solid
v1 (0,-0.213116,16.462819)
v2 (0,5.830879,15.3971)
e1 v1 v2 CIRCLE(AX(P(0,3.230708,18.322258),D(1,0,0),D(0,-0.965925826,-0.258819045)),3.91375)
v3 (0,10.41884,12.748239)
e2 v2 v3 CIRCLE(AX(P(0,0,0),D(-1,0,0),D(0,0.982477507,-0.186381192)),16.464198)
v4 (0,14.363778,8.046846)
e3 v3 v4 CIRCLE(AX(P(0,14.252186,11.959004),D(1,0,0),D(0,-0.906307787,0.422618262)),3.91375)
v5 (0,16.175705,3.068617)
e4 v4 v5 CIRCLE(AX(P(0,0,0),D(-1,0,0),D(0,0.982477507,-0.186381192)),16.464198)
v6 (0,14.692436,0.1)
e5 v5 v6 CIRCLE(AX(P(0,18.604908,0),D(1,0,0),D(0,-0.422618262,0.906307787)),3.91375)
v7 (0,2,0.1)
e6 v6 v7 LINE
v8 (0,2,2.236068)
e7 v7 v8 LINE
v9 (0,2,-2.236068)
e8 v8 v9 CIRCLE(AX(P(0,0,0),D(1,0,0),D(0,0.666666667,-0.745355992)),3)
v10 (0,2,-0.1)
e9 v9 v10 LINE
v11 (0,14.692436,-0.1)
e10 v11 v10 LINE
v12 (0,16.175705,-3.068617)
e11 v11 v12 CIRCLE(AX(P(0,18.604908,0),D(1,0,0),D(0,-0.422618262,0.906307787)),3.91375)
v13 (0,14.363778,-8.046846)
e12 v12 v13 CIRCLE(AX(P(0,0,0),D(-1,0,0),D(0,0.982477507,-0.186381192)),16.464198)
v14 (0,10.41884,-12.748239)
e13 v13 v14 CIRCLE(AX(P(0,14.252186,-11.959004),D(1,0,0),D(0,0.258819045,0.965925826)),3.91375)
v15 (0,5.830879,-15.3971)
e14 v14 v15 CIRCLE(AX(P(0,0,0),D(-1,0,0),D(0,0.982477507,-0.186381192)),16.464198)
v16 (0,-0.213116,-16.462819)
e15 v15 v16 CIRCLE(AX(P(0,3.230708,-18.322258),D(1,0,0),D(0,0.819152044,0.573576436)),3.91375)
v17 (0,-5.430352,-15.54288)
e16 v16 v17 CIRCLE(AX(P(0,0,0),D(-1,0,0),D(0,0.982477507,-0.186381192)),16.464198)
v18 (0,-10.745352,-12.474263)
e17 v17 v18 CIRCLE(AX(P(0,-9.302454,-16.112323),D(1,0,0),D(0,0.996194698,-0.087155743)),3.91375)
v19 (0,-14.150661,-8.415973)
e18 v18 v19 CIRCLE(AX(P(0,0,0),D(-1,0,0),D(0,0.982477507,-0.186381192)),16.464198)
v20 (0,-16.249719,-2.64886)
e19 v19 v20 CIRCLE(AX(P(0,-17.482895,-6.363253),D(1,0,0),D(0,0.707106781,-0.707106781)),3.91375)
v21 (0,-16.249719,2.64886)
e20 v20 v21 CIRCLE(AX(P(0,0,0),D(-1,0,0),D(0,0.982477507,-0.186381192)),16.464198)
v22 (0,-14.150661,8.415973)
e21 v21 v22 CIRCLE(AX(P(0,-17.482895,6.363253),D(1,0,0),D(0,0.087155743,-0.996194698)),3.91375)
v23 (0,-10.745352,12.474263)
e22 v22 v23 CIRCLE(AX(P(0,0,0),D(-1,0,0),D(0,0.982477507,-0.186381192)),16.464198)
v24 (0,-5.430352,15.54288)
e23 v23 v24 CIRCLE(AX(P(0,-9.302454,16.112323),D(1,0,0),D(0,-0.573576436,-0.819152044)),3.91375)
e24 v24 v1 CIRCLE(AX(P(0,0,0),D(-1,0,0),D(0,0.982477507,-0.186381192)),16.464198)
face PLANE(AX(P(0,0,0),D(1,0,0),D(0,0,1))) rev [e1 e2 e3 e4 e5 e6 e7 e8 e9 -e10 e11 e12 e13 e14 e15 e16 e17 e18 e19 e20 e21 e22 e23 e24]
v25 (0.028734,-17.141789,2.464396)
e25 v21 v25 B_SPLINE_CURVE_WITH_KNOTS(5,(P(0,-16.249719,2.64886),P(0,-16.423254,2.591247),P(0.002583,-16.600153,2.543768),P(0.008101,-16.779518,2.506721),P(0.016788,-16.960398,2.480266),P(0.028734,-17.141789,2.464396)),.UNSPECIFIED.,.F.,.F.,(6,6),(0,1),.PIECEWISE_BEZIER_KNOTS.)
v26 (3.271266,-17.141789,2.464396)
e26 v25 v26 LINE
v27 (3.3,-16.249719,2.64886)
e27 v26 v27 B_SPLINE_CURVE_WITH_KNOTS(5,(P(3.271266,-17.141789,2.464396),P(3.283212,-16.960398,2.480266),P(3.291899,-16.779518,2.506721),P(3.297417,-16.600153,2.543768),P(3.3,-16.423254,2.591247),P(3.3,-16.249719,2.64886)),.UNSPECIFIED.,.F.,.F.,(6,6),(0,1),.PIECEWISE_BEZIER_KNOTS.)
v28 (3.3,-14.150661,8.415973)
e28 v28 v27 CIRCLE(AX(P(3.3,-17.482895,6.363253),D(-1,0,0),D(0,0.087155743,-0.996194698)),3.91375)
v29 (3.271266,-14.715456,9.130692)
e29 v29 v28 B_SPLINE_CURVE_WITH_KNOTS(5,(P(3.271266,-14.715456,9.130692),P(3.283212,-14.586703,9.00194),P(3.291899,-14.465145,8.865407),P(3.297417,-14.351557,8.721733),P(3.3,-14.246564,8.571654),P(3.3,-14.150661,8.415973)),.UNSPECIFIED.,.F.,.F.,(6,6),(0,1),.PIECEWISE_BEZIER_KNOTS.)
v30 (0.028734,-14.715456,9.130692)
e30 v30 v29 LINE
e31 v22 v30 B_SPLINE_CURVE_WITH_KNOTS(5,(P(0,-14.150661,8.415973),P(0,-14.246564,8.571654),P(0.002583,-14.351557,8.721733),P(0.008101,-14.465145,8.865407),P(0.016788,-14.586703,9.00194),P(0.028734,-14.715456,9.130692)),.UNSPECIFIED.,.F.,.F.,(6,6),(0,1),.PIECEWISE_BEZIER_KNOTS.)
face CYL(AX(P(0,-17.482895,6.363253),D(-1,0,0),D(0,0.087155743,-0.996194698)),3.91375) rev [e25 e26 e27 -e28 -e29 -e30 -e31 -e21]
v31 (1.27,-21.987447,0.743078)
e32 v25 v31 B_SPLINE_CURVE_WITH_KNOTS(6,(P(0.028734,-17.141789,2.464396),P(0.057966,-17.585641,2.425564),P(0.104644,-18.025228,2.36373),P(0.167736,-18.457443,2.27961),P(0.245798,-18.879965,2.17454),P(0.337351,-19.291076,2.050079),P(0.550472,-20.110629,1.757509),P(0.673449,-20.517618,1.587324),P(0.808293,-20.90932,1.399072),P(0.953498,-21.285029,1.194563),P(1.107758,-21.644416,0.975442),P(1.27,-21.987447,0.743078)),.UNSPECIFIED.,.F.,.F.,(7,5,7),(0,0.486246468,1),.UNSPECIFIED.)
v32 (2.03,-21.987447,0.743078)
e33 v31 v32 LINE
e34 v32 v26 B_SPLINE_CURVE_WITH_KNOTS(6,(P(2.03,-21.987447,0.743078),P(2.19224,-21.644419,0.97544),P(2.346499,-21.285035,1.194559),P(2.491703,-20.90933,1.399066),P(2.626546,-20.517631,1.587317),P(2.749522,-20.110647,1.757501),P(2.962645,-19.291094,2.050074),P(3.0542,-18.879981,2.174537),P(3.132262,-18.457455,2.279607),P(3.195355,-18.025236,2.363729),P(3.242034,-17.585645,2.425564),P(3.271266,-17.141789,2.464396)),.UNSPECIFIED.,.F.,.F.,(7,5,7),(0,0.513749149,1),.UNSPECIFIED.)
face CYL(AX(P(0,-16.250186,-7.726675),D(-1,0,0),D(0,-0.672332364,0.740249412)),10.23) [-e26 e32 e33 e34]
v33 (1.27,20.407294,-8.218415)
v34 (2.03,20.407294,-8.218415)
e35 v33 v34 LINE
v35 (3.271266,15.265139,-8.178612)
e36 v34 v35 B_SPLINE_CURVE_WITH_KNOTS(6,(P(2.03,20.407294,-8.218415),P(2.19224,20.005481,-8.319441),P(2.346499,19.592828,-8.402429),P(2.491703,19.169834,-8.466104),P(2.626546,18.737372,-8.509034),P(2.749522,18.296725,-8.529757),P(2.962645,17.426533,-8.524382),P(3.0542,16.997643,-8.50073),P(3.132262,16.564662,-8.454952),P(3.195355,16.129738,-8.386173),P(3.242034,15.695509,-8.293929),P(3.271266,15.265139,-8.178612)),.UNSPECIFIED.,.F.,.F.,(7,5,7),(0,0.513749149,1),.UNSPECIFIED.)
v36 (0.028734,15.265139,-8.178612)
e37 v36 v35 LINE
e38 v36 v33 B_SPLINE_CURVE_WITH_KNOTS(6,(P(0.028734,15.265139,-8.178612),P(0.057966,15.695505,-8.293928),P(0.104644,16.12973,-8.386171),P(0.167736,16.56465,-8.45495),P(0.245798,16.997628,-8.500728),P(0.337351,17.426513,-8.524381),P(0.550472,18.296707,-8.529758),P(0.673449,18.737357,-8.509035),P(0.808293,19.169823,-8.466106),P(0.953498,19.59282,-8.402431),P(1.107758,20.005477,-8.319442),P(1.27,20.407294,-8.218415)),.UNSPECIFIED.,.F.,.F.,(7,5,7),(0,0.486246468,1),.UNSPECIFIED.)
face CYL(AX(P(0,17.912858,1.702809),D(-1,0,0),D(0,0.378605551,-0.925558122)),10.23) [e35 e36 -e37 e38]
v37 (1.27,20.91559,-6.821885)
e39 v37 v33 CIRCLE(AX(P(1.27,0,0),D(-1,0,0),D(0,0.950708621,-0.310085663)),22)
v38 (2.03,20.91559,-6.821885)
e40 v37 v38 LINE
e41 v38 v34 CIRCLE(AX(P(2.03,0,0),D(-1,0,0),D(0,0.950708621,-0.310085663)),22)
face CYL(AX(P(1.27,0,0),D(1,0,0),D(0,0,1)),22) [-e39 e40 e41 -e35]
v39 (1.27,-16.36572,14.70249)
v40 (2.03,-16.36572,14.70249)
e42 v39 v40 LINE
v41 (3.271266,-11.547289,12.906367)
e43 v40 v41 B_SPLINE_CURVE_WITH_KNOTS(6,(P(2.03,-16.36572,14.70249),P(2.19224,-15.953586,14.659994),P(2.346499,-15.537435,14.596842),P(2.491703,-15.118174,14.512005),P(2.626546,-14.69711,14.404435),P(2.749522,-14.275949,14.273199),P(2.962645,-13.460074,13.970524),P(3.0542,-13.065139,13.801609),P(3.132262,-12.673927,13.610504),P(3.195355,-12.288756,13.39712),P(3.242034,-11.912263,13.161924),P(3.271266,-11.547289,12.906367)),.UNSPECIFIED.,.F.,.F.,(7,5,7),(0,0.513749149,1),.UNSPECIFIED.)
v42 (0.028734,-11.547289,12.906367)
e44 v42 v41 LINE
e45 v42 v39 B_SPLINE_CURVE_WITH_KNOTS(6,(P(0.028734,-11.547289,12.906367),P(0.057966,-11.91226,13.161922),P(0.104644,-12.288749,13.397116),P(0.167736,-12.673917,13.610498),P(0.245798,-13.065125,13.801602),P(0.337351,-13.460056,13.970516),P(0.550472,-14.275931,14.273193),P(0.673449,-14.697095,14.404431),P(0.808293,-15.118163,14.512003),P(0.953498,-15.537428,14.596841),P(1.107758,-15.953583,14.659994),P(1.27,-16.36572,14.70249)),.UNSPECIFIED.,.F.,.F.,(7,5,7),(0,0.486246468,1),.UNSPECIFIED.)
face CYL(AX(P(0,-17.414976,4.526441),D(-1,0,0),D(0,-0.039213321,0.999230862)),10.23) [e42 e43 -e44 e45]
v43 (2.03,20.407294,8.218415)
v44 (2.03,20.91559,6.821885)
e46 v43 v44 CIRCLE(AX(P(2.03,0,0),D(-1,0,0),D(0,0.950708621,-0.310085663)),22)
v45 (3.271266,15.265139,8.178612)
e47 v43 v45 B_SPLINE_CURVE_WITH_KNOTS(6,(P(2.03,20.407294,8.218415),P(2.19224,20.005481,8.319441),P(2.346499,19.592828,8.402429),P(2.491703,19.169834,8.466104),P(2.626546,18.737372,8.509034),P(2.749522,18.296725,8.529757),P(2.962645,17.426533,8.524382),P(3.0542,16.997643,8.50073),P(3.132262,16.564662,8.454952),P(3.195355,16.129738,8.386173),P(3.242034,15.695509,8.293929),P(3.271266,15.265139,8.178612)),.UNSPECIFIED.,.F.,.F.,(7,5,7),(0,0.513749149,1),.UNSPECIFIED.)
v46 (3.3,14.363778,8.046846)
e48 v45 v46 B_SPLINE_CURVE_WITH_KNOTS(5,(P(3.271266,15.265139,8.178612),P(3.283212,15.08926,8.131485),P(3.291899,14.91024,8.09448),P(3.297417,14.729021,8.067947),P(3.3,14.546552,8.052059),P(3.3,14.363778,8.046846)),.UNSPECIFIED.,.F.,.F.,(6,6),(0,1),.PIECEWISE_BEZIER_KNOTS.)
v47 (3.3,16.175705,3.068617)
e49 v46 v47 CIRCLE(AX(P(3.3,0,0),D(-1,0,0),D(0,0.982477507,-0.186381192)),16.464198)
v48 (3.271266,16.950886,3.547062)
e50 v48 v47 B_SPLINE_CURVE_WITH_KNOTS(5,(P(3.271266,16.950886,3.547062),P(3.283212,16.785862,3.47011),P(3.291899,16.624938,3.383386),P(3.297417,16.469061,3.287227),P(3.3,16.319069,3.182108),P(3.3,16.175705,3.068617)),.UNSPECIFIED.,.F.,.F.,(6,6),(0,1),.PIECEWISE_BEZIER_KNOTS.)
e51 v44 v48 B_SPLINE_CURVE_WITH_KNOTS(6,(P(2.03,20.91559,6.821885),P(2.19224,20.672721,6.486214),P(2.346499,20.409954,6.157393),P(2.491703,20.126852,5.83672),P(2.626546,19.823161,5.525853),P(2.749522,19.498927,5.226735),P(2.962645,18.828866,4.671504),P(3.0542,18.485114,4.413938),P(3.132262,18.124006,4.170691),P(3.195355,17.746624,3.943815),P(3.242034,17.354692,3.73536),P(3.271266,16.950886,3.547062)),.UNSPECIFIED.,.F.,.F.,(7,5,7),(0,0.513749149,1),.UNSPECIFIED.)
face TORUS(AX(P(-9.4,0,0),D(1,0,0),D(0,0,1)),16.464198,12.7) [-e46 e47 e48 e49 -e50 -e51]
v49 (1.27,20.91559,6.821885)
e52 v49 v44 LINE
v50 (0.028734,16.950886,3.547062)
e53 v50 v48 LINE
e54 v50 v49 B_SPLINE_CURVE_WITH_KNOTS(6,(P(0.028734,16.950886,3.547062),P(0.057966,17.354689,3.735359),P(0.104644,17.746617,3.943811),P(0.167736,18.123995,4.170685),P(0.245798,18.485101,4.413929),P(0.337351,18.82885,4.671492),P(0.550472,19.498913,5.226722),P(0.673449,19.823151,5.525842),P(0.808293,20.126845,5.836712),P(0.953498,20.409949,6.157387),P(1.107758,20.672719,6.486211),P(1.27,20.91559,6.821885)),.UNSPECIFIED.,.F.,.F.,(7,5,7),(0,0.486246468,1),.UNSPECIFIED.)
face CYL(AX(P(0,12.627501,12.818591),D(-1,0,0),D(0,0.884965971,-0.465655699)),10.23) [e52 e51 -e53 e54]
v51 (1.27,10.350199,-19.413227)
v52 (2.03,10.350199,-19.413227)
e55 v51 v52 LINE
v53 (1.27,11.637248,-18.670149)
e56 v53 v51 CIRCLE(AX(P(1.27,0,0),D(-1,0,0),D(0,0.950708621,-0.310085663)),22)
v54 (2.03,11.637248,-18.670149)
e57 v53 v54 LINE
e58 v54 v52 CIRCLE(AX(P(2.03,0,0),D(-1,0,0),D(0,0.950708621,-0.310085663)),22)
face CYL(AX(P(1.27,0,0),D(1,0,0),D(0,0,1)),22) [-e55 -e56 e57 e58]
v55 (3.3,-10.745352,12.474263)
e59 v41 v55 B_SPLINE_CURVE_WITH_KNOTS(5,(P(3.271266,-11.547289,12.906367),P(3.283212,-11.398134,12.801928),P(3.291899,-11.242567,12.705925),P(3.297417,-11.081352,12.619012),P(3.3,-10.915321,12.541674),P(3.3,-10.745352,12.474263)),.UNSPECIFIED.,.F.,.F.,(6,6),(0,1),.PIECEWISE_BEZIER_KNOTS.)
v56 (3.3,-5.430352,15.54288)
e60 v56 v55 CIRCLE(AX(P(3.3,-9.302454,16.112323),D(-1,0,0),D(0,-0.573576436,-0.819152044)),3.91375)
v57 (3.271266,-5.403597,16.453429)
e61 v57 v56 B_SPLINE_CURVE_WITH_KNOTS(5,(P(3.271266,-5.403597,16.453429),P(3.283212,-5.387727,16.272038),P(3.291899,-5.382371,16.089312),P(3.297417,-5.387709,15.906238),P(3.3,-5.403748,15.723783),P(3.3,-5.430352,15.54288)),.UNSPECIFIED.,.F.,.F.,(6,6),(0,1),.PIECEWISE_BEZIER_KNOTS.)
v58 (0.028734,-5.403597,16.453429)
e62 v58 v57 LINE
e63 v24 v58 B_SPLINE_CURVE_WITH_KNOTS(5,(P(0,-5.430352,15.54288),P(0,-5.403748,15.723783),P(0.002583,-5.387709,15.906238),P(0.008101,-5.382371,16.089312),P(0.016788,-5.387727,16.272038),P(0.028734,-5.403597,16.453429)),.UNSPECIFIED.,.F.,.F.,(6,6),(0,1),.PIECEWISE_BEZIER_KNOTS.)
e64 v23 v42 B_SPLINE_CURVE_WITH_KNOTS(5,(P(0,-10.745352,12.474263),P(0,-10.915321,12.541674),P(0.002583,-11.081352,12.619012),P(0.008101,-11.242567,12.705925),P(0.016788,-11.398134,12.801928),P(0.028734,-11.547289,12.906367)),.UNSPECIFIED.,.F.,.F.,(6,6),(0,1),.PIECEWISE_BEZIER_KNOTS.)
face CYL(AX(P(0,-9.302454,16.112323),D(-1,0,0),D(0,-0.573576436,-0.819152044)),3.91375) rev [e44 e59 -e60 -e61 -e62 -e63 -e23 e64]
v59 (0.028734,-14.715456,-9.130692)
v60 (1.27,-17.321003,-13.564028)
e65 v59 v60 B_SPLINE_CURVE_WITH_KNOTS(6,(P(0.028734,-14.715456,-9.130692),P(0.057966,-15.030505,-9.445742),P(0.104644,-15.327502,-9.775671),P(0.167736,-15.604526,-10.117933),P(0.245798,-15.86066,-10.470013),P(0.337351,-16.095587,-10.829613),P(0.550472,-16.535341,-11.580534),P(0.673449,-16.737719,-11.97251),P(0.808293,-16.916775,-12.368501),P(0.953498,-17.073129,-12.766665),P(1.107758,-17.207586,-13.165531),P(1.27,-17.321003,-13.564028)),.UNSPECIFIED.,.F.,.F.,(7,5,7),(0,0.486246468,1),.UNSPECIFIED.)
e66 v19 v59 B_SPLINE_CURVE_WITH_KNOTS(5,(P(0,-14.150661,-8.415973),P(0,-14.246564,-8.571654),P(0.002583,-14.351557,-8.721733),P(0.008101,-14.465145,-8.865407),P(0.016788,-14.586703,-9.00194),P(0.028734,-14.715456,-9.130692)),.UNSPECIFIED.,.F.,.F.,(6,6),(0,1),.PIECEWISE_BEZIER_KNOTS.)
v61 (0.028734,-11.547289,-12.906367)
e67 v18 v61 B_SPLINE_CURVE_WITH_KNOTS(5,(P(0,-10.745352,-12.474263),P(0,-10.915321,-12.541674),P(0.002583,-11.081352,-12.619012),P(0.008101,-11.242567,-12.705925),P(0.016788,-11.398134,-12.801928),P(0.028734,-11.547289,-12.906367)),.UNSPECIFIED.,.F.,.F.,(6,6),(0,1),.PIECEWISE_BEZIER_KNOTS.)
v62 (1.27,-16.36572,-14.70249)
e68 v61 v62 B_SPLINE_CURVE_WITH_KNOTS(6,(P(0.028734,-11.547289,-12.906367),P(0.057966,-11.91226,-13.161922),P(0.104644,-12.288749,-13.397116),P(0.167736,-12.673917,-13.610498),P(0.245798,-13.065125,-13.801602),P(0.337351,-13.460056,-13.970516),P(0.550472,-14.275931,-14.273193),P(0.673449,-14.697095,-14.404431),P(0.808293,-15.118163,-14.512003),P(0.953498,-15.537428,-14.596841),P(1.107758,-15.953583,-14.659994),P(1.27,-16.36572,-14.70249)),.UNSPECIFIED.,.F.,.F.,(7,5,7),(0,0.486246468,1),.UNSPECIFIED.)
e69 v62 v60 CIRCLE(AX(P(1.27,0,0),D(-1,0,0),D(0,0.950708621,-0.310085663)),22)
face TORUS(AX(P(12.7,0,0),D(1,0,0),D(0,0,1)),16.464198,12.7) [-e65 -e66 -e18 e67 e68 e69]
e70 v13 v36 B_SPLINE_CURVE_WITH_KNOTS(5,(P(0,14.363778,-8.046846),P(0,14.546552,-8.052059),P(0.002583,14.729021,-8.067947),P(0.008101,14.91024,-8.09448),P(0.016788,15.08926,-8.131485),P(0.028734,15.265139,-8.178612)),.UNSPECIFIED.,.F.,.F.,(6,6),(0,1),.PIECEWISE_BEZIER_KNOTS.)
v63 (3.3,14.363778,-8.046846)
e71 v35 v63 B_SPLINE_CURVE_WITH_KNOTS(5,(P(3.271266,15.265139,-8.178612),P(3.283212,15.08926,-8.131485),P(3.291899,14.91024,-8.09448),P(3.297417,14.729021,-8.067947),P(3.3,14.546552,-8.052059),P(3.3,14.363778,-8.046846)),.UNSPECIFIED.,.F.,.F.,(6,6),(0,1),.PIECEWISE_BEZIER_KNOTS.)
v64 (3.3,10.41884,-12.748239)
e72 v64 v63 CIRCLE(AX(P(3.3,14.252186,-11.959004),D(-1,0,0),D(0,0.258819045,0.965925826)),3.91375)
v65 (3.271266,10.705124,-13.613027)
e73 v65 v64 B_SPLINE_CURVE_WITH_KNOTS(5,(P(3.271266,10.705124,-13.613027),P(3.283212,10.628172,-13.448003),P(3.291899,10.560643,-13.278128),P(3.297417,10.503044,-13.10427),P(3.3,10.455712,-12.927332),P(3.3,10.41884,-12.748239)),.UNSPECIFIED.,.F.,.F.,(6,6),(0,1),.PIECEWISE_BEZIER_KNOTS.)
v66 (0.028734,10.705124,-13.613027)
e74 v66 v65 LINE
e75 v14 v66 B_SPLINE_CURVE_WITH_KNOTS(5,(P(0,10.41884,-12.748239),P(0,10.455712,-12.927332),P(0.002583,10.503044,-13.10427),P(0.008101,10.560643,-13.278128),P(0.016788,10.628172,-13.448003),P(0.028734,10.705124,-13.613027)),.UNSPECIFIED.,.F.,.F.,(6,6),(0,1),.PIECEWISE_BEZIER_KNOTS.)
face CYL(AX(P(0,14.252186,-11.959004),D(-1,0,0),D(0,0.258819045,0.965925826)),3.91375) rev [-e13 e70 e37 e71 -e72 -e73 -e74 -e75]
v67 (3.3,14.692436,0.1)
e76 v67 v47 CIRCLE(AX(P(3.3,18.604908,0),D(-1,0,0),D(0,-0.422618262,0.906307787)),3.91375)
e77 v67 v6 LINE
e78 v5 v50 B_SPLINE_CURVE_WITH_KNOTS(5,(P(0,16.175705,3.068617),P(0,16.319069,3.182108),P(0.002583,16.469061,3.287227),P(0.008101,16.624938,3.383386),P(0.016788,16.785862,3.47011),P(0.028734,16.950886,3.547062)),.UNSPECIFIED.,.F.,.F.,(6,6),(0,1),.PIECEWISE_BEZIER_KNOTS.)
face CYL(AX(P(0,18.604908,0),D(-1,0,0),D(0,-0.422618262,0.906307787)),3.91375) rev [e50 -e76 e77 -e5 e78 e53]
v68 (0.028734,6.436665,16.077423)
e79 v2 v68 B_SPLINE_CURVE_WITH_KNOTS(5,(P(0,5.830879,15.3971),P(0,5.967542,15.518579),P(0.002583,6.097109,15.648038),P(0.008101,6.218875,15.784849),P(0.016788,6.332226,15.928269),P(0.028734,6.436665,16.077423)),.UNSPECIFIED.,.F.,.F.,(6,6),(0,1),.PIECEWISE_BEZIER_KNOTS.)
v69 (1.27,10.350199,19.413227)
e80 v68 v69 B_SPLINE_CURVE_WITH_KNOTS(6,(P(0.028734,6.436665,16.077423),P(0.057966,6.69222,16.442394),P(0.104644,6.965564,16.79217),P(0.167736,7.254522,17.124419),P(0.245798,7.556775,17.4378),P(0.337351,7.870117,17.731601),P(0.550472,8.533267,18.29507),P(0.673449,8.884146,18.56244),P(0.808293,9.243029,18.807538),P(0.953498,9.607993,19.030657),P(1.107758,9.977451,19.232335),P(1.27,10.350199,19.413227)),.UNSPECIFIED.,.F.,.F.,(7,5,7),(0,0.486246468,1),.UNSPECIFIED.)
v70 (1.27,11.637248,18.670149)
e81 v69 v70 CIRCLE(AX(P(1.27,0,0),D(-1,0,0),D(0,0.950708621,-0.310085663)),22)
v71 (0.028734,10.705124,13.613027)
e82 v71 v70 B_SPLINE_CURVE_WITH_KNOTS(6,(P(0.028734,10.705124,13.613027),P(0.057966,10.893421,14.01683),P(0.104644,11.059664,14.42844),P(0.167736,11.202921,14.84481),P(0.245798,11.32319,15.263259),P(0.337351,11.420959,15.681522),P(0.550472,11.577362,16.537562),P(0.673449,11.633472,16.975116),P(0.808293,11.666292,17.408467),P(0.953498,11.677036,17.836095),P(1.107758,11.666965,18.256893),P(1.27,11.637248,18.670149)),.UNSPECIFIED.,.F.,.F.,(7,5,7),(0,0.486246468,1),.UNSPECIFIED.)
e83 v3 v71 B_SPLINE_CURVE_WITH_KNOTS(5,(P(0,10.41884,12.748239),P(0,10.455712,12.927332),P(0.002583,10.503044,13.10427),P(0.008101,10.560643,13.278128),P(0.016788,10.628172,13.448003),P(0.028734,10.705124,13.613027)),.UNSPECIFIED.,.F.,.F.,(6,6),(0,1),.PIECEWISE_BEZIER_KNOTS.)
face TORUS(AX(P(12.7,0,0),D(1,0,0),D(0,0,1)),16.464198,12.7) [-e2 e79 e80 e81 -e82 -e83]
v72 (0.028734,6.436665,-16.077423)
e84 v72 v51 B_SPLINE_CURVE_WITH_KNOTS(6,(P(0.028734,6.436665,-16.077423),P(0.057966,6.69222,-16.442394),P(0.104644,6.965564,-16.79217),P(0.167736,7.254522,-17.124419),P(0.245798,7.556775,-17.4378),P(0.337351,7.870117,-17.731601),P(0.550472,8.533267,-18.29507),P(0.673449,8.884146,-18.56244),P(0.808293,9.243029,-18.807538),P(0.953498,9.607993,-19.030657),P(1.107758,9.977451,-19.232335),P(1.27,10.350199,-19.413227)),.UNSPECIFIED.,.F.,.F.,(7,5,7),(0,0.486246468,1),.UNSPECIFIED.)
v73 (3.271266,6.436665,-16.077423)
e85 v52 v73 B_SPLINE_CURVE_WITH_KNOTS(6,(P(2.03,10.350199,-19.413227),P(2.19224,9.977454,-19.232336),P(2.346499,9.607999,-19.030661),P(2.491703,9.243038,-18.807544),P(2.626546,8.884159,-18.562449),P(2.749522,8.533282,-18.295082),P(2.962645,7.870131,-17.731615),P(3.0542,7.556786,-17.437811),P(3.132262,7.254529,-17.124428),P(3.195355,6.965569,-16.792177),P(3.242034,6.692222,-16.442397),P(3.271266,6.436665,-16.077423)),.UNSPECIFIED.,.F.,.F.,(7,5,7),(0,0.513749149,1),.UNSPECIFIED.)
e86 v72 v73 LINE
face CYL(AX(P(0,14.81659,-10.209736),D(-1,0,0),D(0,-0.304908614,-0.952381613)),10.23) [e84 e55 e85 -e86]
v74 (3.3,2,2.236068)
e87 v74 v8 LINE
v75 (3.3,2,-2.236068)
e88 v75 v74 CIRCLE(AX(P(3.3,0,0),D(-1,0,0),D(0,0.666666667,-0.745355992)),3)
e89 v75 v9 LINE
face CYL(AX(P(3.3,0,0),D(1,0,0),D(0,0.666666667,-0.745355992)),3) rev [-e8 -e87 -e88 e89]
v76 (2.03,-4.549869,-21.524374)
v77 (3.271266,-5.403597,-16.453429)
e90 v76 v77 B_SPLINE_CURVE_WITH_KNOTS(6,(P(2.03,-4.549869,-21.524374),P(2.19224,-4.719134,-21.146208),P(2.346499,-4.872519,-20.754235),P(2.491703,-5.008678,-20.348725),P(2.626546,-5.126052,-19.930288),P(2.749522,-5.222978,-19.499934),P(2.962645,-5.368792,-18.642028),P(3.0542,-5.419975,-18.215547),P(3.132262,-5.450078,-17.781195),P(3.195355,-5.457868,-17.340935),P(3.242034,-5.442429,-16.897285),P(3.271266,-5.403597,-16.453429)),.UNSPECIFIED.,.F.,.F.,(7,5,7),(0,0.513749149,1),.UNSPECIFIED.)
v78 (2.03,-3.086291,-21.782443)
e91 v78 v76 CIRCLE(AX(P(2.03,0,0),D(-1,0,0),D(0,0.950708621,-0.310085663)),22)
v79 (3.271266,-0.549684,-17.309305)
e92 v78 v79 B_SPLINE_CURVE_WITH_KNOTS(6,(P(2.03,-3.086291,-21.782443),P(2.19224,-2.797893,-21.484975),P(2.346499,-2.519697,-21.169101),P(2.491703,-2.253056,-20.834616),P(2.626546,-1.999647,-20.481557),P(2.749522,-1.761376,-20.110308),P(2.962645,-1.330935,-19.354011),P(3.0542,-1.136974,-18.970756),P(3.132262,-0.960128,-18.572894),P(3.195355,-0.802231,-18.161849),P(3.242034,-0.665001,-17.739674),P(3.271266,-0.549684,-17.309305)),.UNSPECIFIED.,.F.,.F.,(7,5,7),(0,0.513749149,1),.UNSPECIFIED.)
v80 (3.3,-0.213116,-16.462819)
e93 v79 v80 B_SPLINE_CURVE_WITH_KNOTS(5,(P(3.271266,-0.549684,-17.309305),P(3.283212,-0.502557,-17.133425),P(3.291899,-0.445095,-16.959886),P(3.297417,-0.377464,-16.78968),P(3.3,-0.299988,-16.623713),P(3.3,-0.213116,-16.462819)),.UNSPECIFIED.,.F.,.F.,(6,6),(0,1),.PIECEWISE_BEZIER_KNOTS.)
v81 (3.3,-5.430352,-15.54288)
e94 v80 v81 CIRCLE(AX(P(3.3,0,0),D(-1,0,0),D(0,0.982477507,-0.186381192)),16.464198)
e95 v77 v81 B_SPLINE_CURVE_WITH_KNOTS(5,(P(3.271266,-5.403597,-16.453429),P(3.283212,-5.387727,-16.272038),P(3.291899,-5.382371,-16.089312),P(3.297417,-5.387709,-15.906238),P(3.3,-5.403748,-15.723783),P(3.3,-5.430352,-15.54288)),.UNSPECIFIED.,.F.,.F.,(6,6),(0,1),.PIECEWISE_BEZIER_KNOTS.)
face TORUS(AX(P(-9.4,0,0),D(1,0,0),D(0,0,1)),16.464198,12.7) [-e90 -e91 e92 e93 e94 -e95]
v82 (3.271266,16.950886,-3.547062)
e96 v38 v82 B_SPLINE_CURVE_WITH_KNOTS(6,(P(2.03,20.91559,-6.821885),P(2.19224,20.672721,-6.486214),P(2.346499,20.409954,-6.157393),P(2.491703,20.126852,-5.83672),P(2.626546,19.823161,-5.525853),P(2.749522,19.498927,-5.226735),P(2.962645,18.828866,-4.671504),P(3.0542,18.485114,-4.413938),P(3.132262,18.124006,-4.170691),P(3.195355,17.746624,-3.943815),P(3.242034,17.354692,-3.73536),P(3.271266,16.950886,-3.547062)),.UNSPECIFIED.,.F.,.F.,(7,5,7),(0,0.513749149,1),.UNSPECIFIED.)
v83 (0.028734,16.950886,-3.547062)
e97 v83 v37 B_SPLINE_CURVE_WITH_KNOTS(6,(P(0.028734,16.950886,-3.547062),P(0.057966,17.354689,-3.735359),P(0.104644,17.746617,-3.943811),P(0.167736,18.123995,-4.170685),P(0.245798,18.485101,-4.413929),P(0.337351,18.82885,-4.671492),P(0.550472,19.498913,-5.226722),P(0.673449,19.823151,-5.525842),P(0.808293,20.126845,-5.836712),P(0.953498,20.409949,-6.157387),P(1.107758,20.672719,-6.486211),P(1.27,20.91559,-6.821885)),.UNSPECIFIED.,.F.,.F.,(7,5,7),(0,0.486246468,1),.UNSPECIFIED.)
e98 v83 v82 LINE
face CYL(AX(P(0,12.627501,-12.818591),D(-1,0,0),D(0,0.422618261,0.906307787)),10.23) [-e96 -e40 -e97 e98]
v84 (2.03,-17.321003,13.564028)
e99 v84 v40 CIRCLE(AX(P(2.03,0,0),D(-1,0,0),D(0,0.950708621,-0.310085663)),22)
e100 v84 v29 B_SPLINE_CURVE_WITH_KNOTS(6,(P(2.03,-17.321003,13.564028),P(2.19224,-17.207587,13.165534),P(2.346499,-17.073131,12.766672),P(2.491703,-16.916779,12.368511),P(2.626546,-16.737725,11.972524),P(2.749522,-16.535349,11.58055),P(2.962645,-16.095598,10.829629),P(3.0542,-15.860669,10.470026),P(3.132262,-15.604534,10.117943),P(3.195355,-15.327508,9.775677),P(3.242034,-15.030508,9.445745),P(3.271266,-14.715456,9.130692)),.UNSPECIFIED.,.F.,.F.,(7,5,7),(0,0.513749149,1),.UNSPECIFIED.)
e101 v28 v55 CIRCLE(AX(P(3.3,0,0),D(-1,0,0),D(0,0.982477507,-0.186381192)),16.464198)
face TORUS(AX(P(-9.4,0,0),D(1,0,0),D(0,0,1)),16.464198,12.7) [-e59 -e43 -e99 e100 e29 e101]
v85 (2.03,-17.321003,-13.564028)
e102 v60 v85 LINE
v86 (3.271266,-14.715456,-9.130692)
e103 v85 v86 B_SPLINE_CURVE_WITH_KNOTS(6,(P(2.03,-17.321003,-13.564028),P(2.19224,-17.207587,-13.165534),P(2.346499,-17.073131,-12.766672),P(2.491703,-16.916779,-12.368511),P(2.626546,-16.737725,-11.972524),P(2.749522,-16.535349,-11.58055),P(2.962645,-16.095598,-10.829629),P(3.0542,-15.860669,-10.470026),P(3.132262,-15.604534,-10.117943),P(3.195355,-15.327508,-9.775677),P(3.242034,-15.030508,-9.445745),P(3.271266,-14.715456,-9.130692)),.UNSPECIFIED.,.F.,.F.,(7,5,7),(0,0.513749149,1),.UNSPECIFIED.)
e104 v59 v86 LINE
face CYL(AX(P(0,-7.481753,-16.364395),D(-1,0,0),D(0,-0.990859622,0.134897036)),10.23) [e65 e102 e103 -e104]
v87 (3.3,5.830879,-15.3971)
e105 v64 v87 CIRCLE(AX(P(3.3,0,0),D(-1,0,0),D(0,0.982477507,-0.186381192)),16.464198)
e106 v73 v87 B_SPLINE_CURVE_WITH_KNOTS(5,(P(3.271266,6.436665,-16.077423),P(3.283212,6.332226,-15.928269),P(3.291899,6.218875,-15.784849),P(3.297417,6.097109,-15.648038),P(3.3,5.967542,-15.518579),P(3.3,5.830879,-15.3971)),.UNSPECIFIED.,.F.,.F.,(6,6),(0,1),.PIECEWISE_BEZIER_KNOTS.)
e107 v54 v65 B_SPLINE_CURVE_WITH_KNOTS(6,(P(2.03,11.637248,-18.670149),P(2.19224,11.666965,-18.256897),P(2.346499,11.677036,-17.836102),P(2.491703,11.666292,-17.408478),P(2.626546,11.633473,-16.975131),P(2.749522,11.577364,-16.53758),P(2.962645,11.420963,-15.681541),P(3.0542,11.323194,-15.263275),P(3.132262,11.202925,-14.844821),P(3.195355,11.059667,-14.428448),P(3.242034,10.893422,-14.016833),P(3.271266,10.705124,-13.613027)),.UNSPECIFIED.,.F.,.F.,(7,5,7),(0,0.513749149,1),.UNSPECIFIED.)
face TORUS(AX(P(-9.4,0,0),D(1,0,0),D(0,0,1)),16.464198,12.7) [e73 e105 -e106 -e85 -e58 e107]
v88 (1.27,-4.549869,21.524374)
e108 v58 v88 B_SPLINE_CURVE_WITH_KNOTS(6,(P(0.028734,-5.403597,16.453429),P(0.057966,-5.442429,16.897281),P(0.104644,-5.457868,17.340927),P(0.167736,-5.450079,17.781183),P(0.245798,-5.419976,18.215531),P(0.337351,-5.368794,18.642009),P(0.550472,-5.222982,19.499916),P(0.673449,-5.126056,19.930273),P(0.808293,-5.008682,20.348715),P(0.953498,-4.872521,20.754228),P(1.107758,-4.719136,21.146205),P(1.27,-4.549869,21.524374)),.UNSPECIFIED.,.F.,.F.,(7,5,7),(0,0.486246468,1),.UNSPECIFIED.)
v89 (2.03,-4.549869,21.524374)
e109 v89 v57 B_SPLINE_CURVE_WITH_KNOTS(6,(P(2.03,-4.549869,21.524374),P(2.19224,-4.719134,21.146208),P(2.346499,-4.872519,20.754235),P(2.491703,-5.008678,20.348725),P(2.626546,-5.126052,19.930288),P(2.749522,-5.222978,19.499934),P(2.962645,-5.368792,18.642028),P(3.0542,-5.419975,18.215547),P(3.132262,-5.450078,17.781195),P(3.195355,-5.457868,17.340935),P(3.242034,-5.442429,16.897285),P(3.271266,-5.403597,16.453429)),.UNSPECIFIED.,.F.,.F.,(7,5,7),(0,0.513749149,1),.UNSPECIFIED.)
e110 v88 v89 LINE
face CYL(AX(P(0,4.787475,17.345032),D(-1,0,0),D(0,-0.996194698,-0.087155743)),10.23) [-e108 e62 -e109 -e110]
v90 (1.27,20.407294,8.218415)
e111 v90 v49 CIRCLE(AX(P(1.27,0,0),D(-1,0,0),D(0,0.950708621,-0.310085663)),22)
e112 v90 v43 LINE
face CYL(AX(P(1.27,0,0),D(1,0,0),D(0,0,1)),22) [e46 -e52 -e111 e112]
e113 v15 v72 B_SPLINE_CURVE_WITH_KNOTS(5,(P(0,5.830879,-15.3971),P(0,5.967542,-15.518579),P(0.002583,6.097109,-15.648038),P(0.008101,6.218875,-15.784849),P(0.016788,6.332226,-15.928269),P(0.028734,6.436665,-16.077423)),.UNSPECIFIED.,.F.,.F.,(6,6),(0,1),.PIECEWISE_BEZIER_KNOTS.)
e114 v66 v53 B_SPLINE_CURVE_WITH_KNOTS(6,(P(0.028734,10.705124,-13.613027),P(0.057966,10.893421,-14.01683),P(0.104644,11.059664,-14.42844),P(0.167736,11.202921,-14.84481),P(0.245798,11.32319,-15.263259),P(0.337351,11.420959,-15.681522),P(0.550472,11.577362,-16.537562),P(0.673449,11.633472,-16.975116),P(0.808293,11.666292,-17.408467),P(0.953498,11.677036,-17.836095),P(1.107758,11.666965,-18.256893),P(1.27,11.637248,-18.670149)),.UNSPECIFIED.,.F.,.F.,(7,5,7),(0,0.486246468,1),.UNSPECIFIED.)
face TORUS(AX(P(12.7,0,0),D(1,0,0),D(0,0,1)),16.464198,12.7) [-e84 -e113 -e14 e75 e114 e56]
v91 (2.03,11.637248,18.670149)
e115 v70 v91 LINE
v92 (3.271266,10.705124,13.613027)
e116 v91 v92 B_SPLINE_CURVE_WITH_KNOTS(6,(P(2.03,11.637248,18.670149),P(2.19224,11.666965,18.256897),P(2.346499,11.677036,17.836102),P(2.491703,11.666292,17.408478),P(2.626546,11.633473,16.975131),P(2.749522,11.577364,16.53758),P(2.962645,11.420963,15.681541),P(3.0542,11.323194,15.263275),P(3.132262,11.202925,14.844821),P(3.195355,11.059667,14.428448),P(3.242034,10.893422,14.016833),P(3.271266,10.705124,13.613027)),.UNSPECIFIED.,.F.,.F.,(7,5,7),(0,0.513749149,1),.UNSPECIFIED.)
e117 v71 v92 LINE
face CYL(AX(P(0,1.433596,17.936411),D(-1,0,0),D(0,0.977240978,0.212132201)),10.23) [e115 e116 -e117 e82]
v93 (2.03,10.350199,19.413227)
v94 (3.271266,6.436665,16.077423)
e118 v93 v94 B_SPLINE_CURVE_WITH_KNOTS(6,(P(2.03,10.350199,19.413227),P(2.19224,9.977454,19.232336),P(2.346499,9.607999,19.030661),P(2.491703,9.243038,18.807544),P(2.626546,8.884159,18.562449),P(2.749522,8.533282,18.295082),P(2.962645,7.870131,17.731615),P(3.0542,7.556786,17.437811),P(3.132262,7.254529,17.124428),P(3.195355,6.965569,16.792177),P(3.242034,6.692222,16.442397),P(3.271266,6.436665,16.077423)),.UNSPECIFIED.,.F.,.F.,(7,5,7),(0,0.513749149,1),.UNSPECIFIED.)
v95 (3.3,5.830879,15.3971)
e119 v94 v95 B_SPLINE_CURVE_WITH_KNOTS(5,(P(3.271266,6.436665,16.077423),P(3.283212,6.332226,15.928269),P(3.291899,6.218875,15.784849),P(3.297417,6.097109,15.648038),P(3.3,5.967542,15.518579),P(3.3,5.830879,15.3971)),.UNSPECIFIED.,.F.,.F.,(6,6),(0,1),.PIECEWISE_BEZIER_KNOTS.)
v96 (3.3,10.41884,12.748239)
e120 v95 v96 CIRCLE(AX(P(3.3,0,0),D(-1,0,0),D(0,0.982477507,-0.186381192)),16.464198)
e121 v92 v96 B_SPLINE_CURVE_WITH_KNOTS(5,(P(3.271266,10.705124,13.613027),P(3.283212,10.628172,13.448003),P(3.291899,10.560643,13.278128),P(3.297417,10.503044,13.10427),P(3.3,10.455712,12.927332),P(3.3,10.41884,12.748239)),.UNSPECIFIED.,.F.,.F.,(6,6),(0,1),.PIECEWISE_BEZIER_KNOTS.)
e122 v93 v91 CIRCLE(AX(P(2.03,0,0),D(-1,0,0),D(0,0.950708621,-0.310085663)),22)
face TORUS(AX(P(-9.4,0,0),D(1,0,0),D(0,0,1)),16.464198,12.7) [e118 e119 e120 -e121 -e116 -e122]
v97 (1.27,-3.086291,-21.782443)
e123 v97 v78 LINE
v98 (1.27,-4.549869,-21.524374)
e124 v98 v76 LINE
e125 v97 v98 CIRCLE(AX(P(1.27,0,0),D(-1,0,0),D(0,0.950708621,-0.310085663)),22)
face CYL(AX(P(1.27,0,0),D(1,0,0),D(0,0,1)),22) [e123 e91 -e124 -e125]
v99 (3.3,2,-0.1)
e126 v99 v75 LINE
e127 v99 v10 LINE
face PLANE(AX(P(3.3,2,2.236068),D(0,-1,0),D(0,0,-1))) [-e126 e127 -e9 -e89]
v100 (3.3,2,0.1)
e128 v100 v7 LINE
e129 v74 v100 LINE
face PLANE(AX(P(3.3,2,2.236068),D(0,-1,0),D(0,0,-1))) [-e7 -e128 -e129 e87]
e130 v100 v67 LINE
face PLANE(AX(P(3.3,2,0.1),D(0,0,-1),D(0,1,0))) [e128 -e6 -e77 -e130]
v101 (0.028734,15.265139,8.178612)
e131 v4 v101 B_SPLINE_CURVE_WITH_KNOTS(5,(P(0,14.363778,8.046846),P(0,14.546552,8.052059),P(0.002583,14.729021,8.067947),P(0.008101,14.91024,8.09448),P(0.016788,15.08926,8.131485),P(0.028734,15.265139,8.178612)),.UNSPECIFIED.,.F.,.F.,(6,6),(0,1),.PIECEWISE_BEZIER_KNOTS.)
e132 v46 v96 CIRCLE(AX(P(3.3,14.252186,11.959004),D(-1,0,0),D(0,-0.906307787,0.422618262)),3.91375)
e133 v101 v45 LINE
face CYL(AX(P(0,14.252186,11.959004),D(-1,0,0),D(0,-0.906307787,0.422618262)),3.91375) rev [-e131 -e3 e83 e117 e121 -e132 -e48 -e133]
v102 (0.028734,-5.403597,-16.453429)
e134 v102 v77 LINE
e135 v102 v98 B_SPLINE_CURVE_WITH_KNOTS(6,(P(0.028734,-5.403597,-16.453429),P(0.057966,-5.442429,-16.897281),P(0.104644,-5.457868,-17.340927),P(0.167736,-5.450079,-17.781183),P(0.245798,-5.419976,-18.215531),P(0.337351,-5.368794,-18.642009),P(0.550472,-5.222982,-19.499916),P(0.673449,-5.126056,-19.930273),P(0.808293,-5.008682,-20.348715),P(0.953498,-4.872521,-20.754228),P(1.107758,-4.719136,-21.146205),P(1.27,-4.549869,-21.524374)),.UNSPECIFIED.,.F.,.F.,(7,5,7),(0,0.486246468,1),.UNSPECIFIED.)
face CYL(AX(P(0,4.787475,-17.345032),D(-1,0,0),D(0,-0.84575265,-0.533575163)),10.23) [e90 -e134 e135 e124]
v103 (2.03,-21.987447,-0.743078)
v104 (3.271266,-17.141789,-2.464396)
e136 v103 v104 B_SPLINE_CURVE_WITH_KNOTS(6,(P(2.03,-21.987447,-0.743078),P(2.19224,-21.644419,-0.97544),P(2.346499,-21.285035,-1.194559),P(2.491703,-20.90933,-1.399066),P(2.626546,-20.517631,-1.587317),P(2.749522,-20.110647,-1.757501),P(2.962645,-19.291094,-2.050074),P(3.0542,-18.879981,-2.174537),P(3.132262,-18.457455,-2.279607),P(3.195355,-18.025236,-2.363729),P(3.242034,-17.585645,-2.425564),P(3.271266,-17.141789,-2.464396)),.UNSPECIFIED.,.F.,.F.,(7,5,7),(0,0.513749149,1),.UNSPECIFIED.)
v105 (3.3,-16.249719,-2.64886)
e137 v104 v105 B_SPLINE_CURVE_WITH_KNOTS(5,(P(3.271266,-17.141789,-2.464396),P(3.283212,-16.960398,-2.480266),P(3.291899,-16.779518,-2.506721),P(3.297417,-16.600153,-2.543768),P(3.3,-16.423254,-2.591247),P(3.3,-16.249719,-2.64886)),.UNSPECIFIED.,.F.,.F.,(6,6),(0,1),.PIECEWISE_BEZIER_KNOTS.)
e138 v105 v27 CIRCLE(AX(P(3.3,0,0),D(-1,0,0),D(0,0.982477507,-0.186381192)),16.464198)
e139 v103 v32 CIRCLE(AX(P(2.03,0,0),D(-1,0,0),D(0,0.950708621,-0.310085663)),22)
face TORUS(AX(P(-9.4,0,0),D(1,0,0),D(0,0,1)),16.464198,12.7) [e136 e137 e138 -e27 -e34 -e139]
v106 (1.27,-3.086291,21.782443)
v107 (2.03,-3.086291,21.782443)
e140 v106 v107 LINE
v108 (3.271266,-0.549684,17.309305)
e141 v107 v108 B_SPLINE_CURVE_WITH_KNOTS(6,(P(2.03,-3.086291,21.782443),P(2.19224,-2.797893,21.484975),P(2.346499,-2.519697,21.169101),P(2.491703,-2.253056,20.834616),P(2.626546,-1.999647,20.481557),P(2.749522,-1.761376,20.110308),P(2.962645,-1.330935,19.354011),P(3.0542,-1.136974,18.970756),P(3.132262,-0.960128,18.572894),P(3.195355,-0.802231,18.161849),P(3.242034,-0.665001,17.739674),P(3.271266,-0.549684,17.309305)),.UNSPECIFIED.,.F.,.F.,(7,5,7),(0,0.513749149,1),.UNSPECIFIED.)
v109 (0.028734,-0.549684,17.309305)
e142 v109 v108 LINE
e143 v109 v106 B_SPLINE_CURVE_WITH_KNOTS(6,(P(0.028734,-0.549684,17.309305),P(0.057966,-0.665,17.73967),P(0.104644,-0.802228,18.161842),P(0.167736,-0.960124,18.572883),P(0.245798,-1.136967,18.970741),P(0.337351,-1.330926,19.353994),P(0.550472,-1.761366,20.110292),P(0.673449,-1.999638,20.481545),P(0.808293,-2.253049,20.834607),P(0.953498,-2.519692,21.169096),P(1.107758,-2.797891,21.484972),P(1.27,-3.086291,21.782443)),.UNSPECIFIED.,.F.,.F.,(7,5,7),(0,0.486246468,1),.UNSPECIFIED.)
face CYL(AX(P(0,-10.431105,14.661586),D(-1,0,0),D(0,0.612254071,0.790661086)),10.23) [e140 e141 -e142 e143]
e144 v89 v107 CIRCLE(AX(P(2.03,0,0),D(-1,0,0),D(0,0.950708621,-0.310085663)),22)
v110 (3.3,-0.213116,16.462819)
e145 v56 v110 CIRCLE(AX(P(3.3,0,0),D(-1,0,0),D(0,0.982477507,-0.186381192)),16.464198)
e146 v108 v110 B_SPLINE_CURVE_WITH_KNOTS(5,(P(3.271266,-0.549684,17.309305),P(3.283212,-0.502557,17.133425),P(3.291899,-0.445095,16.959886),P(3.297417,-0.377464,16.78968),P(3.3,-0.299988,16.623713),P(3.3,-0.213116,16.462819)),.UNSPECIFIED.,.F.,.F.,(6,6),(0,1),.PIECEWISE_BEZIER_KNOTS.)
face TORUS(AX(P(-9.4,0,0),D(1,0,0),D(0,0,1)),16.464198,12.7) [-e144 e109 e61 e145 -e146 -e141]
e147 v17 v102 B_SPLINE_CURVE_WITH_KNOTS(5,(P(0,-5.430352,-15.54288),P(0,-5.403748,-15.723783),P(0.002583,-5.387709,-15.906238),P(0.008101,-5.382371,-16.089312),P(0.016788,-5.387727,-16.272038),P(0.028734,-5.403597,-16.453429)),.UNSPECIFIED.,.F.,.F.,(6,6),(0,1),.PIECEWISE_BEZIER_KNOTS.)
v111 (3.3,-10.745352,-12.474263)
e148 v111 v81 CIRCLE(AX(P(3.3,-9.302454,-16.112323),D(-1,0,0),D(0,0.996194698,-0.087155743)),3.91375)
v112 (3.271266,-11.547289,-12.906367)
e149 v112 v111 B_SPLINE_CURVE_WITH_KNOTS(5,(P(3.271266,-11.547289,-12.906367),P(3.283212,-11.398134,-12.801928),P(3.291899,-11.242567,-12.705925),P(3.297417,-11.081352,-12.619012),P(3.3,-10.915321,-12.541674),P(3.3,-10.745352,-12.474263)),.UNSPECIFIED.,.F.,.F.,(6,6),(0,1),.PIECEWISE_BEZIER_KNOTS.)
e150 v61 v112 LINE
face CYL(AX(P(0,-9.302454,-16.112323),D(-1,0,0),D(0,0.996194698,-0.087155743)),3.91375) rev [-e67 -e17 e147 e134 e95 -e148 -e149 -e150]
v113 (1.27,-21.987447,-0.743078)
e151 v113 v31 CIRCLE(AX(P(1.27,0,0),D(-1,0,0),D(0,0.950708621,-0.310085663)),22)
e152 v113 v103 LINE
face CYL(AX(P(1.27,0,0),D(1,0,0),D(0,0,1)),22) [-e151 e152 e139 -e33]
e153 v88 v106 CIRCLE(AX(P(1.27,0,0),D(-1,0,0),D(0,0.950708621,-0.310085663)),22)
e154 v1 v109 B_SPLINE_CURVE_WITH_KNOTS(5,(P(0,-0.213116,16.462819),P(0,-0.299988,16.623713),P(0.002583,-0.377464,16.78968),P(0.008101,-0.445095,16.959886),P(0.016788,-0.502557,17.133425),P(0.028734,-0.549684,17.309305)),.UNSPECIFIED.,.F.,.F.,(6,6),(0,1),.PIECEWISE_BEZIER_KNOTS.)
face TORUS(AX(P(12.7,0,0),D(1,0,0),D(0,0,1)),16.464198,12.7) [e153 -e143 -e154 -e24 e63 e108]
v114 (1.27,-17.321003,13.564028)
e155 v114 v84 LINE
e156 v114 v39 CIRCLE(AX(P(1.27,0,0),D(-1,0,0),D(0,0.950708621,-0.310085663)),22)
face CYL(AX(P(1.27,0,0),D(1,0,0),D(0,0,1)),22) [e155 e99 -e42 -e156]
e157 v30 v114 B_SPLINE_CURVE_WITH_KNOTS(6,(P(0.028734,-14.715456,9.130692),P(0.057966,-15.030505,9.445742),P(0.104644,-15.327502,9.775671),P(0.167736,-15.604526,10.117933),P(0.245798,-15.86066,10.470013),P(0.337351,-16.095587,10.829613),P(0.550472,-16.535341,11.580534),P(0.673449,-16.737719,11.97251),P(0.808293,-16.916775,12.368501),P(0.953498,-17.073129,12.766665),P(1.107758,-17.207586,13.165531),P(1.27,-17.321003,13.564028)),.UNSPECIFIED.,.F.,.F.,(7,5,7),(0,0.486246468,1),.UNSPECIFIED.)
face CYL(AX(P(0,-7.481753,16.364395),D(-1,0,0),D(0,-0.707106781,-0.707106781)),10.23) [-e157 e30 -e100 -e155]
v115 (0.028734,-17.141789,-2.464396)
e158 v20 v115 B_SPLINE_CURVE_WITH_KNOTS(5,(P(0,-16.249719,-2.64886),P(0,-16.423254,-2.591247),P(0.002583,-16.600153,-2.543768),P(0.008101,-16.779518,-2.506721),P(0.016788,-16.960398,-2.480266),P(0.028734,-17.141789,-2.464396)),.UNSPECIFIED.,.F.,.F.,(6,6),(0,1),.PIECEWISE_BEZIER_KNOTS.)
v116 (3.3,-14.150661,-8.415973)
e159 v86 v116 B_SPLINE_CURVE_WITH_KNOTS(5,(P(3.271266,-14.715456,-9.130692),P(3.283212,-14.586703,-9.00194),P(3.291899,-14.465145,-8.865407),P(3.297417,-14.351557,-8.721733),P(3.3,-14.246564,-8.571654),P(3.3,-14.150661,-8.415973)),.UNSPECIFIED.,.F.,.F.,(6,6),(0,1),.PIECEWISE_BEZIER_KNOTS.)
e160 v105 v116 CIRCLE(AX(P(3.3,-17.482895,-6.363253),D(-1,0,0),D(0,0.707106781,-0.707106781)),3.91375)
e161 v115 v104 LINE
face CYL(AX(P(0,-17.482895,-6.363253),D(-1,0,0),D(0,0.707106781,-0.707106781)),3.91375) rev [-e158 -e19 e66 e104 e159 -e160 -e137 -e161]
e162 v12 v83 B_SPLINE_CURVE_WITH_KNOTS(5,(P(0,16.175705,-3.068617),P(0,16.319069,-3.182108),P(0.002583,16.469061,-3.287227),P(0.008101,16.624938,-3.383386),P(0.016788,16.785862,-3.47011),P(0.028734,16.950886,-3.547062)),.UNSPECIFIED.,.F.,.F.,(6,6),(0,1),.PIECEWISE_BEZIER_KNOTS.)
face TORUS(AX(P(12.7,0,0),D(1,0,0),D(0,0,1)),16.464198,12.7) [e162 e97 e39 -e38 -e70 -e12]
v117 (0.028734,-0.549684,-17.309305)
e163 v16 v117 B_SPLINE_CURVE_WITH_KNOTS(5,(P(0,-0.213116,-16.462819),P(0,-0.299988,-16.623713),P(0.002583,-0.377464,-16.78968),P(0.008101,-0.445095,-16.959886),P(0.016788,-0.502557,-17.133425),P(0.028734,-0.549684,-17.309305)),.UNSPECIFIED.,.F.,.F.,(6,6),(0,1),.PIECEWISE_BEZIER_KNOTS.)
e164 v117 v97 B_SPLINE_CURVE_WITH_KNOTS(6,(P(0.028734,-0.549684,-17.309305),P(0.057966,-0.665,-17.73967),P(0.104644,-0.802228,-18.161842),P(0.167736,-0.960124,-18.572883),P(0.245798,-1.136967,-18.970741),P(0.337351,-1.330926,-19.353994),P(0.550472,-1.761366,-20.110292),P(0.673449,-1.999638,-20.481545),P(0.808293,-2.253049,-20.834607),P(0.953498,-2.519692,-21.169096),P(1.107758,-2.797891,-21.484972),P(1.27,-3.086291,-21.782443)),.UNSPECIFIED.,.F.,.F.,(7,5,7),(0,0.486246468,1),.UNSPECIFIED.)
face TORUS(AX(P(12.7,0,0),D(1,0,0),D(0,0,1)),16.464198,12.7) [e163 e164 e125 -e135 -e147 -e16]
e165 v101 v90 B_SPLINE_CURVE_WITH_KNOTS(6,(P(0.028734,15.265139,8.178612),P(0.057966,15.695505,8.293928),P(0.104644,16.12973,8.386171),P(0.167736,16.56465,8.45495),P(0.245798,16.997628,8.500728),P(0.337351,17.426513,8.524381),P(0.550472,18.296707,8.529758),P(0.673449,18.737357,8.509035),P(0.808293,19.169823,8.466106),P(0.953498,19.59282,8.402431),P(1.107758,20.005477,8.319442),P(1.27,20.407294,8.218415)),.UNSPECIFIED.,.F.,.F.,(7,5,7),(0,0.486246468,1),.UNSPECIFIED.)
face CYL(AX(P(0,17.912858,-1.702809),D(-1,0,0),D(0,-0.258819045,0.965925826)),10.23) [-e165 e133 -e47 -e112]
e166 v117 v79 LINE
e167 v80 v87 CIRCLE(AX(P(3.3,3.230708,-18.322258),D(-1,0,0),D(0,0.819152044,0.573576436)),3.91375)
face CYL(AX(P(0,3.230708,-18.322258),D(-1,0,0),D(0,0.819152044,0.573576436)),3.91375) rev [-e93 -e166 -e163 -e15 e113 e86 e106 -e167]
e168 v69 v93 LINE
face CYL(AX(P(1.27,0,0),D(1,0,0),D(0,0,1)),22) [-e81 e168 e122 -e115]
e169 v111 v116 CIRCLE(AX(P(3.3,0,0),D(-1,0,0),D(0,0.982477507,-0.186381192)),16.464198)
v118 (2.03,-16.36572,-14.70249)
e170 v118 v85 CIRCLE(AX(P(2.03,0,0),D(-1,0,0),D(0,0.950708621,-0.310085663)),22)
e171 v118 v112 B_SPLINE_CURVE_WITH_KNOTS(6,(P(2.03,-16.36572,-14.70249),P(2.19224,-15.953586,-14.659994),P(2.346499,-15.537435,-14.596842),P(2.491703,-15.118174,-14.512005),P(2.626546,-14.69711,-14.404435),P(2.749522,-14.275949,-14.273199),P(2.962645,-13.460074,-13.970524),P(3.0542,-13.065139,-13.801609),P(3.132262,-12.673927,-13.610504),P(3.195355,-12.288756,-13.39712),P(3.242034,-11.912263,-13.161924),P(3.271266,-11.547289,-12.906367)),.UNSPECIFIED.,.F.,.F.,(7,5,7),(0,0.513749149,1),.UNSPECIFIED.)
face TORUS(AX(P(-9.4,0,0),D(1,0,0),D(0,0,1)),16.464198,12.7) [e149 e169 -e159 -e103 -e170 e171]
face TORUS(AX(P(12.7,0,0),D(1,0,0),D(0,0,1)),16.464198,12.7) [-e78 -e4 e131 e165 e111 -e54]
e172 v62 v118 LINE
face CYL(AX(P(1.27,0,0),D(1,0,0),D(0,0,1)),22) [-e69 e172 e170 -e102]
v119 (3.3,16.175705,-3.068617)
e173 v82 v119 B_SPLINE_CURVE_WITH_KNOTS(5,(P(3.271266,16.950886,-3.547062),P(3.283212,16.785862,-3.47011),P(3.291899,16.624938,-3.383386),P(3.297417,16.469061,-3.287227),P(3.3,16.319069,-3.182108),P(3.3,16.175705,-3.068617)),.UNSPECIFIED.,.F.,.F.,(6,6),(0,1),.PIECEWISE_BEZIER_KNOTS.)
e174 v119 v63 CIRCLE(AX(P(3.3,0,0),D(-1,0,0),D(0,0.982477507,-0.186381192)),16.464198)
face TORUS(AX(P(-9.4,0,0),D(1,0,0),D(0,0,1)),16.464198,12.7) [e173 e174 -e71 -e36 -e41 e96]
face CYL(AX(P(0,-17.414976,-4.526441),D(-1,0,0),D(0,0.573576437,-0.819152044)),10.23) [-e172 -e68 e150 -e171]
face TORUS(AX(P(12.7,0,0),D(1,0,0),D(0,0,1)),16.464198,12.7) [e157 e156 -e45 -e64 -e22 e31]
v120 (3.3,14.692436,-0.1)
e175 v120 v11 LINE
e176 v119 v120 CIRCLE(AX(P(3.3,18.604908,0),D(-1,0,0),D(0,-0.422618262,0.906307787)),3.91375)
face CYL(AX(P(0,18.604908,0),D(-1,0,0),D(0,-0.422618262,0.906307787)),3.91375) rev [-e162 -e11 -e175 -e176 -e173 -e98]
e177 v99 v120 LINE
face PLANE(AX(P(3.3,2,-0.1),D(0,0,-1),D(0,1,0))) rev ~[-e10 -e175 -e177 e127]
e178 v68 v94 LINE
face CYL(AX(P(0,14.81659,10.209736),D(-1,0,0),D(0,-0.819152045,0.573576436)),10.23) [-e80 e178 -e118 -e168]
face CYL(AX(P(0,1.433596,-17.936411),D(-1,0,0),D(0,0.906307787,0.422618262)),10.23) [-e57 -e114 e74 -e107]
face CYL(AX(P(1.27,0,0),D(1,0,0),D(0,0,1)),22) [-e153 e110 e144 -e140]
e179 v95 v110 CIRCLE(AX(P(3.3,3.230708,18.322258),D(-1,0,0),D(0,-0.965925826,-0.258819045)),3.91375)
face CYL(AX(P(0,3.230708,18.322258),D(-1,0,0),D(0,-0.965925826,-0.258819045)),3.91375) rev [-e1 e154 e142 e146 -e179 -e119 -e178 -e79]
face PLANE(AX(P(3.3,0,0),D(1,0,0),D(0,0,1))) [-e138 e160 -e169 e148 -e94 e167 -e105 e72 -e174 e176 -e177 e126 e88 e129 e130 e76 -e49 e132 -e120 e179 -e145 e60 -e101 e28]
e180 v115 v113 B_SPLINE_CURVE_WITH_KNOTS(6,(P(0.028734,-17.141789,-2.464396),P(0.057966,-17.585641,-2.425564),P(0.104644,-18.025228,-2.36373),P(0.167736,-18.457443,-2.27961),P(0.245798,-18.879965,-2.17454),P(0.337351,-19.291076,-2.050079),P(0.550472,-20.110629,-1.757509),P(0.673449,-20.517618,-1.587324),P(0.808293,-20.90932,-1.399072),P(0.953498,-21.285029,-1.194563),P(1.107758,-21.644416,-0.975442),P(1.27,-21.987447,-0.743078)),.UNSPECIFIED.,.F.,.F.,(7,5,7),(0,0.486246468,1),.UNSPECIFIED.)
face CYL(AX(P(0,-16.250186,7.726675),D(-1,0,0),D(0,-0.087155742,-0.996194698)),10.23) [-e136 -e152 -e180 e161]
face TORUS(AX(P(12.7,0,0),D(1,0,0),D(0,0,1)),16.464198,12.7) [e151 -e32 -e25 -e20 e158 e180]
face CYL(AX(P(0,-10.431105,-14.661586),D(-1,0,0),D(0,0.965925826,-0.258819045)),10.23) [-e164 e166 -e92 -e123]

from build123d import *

# Parameters (mm, degrees)
CORTE_EXTRUS_O1_DEPTH = 32.287217837
PADR_OCIRCULAR2_COUNT = 9
CORTE_EXTRUS_O2_DEPTH = 32.134624111
ESBO_O7_W             = 0.2
ESBO_O7_H             = 30
CORTE_EXTRUS_O3_DEPTH = 10


with BuildPart() as part:
    # Esboço2 → Revolução1 (revolve)
    with BuildSketch(Plane.XY, mode=Mode.PRIVATE) as revolu_o1_sk:
        with BuildLine():
            Line((0, 0), (0, 16.464198342))
            ThreePointArc((0, 16.464198342), (0.321571182, 19.304004673), (1.27, 22))
            Line((1.27, 22), (2.03, 22))
            ThreePointArc((2.03, 22), (2.978428818, 19.304004673), (3.3, 16.464198342))
            Line((3.3, 16.464198342), (3.3, 0))
            Line((3.3, 0), (0, 0))
        make_face()
    revolve(revolu_o1_sk.sketch.rotate(Axis((0, 0, 0), (1, 0, 0)), 90), axis=Axis((0, 0, 0), (1, 0, 0)))

    # Esboço5 → Corte-extrusão1 (cut, through all)
    with BuildSketch(Plane(origin=(0, 0, 0), x_dir=(0, 0, -1), z_dir=(1, 0, 0))):
        with BuildLine():
            ThreePointArc((3.547062102, 16.950885739), (5.413227359, 19.685368366), (8.05493296, 21.680702805))
            ThreePointArc((8.05493296, 21.680702805), (0, 23.128657961), (-8.05493296, 21.680702805))
            ThreePointArc((-8.05493296, 21.680702805), (-5.413227359, 19.685368366), (-3.547062102, 16.950885739))
            ThreePointArc((-3.547062102, 16.950885739), (0, 14.691157961), (3.547062102, 16.950885739))
        make_face()
    corte_extrus_o1 = extrude(amount=CORTE_EXTRUS_O1_DEPTH, mode=Mode.SUBTRACT)

    # PadrãoCircular2: Corte-extrusão1 ×9 about axis
    padr_ocircular2_axis = Axis((0, 0, 0), (1, 0, 0))
    for i in range(1, PADR_OCIRCULAR2_COUNT):
        add(corte_extrus_o1.rotate(padr_ocircular2_axis, i * 360 / PADR_OCIRCULAR2_COUNT), mode=Mode.SUBTRACT)

    # Esboço6 → Corte-extrusão2 (cut, through all)
    with BuildSketch(Plane(origin=(3.3, 0, 0), x_dir=(0, 0, -1), z_dir=(1, 0, 0))):
        with BuildLine():
            Line((-2.236067977, 2), (2.236067977, 2))
            ThreePointArc((2.236067977, 2), (0, -3), (-2.236067977, 2))
        make_face()
    extrude(amount=-CORTE_EXTRUS_O2_DEPTH, mode=Mode.SUBTRACT)

    # Esboço7 → Corte-extrusão3 (cut)
    with BuildSketch(Plane(origin=(3.3, 0, 0), x_dir=(0, 0, -1), z_dir=(1, 0, 0))):
        with Locations((0, 17)):
            Rectangle(ESBO_O7_W, ESBO_O7_H)
    extrude(amount=-CORTE_EXTRUS_O3_DEPTH, mode=Mode.SUBTRACT)


solid = part.part
